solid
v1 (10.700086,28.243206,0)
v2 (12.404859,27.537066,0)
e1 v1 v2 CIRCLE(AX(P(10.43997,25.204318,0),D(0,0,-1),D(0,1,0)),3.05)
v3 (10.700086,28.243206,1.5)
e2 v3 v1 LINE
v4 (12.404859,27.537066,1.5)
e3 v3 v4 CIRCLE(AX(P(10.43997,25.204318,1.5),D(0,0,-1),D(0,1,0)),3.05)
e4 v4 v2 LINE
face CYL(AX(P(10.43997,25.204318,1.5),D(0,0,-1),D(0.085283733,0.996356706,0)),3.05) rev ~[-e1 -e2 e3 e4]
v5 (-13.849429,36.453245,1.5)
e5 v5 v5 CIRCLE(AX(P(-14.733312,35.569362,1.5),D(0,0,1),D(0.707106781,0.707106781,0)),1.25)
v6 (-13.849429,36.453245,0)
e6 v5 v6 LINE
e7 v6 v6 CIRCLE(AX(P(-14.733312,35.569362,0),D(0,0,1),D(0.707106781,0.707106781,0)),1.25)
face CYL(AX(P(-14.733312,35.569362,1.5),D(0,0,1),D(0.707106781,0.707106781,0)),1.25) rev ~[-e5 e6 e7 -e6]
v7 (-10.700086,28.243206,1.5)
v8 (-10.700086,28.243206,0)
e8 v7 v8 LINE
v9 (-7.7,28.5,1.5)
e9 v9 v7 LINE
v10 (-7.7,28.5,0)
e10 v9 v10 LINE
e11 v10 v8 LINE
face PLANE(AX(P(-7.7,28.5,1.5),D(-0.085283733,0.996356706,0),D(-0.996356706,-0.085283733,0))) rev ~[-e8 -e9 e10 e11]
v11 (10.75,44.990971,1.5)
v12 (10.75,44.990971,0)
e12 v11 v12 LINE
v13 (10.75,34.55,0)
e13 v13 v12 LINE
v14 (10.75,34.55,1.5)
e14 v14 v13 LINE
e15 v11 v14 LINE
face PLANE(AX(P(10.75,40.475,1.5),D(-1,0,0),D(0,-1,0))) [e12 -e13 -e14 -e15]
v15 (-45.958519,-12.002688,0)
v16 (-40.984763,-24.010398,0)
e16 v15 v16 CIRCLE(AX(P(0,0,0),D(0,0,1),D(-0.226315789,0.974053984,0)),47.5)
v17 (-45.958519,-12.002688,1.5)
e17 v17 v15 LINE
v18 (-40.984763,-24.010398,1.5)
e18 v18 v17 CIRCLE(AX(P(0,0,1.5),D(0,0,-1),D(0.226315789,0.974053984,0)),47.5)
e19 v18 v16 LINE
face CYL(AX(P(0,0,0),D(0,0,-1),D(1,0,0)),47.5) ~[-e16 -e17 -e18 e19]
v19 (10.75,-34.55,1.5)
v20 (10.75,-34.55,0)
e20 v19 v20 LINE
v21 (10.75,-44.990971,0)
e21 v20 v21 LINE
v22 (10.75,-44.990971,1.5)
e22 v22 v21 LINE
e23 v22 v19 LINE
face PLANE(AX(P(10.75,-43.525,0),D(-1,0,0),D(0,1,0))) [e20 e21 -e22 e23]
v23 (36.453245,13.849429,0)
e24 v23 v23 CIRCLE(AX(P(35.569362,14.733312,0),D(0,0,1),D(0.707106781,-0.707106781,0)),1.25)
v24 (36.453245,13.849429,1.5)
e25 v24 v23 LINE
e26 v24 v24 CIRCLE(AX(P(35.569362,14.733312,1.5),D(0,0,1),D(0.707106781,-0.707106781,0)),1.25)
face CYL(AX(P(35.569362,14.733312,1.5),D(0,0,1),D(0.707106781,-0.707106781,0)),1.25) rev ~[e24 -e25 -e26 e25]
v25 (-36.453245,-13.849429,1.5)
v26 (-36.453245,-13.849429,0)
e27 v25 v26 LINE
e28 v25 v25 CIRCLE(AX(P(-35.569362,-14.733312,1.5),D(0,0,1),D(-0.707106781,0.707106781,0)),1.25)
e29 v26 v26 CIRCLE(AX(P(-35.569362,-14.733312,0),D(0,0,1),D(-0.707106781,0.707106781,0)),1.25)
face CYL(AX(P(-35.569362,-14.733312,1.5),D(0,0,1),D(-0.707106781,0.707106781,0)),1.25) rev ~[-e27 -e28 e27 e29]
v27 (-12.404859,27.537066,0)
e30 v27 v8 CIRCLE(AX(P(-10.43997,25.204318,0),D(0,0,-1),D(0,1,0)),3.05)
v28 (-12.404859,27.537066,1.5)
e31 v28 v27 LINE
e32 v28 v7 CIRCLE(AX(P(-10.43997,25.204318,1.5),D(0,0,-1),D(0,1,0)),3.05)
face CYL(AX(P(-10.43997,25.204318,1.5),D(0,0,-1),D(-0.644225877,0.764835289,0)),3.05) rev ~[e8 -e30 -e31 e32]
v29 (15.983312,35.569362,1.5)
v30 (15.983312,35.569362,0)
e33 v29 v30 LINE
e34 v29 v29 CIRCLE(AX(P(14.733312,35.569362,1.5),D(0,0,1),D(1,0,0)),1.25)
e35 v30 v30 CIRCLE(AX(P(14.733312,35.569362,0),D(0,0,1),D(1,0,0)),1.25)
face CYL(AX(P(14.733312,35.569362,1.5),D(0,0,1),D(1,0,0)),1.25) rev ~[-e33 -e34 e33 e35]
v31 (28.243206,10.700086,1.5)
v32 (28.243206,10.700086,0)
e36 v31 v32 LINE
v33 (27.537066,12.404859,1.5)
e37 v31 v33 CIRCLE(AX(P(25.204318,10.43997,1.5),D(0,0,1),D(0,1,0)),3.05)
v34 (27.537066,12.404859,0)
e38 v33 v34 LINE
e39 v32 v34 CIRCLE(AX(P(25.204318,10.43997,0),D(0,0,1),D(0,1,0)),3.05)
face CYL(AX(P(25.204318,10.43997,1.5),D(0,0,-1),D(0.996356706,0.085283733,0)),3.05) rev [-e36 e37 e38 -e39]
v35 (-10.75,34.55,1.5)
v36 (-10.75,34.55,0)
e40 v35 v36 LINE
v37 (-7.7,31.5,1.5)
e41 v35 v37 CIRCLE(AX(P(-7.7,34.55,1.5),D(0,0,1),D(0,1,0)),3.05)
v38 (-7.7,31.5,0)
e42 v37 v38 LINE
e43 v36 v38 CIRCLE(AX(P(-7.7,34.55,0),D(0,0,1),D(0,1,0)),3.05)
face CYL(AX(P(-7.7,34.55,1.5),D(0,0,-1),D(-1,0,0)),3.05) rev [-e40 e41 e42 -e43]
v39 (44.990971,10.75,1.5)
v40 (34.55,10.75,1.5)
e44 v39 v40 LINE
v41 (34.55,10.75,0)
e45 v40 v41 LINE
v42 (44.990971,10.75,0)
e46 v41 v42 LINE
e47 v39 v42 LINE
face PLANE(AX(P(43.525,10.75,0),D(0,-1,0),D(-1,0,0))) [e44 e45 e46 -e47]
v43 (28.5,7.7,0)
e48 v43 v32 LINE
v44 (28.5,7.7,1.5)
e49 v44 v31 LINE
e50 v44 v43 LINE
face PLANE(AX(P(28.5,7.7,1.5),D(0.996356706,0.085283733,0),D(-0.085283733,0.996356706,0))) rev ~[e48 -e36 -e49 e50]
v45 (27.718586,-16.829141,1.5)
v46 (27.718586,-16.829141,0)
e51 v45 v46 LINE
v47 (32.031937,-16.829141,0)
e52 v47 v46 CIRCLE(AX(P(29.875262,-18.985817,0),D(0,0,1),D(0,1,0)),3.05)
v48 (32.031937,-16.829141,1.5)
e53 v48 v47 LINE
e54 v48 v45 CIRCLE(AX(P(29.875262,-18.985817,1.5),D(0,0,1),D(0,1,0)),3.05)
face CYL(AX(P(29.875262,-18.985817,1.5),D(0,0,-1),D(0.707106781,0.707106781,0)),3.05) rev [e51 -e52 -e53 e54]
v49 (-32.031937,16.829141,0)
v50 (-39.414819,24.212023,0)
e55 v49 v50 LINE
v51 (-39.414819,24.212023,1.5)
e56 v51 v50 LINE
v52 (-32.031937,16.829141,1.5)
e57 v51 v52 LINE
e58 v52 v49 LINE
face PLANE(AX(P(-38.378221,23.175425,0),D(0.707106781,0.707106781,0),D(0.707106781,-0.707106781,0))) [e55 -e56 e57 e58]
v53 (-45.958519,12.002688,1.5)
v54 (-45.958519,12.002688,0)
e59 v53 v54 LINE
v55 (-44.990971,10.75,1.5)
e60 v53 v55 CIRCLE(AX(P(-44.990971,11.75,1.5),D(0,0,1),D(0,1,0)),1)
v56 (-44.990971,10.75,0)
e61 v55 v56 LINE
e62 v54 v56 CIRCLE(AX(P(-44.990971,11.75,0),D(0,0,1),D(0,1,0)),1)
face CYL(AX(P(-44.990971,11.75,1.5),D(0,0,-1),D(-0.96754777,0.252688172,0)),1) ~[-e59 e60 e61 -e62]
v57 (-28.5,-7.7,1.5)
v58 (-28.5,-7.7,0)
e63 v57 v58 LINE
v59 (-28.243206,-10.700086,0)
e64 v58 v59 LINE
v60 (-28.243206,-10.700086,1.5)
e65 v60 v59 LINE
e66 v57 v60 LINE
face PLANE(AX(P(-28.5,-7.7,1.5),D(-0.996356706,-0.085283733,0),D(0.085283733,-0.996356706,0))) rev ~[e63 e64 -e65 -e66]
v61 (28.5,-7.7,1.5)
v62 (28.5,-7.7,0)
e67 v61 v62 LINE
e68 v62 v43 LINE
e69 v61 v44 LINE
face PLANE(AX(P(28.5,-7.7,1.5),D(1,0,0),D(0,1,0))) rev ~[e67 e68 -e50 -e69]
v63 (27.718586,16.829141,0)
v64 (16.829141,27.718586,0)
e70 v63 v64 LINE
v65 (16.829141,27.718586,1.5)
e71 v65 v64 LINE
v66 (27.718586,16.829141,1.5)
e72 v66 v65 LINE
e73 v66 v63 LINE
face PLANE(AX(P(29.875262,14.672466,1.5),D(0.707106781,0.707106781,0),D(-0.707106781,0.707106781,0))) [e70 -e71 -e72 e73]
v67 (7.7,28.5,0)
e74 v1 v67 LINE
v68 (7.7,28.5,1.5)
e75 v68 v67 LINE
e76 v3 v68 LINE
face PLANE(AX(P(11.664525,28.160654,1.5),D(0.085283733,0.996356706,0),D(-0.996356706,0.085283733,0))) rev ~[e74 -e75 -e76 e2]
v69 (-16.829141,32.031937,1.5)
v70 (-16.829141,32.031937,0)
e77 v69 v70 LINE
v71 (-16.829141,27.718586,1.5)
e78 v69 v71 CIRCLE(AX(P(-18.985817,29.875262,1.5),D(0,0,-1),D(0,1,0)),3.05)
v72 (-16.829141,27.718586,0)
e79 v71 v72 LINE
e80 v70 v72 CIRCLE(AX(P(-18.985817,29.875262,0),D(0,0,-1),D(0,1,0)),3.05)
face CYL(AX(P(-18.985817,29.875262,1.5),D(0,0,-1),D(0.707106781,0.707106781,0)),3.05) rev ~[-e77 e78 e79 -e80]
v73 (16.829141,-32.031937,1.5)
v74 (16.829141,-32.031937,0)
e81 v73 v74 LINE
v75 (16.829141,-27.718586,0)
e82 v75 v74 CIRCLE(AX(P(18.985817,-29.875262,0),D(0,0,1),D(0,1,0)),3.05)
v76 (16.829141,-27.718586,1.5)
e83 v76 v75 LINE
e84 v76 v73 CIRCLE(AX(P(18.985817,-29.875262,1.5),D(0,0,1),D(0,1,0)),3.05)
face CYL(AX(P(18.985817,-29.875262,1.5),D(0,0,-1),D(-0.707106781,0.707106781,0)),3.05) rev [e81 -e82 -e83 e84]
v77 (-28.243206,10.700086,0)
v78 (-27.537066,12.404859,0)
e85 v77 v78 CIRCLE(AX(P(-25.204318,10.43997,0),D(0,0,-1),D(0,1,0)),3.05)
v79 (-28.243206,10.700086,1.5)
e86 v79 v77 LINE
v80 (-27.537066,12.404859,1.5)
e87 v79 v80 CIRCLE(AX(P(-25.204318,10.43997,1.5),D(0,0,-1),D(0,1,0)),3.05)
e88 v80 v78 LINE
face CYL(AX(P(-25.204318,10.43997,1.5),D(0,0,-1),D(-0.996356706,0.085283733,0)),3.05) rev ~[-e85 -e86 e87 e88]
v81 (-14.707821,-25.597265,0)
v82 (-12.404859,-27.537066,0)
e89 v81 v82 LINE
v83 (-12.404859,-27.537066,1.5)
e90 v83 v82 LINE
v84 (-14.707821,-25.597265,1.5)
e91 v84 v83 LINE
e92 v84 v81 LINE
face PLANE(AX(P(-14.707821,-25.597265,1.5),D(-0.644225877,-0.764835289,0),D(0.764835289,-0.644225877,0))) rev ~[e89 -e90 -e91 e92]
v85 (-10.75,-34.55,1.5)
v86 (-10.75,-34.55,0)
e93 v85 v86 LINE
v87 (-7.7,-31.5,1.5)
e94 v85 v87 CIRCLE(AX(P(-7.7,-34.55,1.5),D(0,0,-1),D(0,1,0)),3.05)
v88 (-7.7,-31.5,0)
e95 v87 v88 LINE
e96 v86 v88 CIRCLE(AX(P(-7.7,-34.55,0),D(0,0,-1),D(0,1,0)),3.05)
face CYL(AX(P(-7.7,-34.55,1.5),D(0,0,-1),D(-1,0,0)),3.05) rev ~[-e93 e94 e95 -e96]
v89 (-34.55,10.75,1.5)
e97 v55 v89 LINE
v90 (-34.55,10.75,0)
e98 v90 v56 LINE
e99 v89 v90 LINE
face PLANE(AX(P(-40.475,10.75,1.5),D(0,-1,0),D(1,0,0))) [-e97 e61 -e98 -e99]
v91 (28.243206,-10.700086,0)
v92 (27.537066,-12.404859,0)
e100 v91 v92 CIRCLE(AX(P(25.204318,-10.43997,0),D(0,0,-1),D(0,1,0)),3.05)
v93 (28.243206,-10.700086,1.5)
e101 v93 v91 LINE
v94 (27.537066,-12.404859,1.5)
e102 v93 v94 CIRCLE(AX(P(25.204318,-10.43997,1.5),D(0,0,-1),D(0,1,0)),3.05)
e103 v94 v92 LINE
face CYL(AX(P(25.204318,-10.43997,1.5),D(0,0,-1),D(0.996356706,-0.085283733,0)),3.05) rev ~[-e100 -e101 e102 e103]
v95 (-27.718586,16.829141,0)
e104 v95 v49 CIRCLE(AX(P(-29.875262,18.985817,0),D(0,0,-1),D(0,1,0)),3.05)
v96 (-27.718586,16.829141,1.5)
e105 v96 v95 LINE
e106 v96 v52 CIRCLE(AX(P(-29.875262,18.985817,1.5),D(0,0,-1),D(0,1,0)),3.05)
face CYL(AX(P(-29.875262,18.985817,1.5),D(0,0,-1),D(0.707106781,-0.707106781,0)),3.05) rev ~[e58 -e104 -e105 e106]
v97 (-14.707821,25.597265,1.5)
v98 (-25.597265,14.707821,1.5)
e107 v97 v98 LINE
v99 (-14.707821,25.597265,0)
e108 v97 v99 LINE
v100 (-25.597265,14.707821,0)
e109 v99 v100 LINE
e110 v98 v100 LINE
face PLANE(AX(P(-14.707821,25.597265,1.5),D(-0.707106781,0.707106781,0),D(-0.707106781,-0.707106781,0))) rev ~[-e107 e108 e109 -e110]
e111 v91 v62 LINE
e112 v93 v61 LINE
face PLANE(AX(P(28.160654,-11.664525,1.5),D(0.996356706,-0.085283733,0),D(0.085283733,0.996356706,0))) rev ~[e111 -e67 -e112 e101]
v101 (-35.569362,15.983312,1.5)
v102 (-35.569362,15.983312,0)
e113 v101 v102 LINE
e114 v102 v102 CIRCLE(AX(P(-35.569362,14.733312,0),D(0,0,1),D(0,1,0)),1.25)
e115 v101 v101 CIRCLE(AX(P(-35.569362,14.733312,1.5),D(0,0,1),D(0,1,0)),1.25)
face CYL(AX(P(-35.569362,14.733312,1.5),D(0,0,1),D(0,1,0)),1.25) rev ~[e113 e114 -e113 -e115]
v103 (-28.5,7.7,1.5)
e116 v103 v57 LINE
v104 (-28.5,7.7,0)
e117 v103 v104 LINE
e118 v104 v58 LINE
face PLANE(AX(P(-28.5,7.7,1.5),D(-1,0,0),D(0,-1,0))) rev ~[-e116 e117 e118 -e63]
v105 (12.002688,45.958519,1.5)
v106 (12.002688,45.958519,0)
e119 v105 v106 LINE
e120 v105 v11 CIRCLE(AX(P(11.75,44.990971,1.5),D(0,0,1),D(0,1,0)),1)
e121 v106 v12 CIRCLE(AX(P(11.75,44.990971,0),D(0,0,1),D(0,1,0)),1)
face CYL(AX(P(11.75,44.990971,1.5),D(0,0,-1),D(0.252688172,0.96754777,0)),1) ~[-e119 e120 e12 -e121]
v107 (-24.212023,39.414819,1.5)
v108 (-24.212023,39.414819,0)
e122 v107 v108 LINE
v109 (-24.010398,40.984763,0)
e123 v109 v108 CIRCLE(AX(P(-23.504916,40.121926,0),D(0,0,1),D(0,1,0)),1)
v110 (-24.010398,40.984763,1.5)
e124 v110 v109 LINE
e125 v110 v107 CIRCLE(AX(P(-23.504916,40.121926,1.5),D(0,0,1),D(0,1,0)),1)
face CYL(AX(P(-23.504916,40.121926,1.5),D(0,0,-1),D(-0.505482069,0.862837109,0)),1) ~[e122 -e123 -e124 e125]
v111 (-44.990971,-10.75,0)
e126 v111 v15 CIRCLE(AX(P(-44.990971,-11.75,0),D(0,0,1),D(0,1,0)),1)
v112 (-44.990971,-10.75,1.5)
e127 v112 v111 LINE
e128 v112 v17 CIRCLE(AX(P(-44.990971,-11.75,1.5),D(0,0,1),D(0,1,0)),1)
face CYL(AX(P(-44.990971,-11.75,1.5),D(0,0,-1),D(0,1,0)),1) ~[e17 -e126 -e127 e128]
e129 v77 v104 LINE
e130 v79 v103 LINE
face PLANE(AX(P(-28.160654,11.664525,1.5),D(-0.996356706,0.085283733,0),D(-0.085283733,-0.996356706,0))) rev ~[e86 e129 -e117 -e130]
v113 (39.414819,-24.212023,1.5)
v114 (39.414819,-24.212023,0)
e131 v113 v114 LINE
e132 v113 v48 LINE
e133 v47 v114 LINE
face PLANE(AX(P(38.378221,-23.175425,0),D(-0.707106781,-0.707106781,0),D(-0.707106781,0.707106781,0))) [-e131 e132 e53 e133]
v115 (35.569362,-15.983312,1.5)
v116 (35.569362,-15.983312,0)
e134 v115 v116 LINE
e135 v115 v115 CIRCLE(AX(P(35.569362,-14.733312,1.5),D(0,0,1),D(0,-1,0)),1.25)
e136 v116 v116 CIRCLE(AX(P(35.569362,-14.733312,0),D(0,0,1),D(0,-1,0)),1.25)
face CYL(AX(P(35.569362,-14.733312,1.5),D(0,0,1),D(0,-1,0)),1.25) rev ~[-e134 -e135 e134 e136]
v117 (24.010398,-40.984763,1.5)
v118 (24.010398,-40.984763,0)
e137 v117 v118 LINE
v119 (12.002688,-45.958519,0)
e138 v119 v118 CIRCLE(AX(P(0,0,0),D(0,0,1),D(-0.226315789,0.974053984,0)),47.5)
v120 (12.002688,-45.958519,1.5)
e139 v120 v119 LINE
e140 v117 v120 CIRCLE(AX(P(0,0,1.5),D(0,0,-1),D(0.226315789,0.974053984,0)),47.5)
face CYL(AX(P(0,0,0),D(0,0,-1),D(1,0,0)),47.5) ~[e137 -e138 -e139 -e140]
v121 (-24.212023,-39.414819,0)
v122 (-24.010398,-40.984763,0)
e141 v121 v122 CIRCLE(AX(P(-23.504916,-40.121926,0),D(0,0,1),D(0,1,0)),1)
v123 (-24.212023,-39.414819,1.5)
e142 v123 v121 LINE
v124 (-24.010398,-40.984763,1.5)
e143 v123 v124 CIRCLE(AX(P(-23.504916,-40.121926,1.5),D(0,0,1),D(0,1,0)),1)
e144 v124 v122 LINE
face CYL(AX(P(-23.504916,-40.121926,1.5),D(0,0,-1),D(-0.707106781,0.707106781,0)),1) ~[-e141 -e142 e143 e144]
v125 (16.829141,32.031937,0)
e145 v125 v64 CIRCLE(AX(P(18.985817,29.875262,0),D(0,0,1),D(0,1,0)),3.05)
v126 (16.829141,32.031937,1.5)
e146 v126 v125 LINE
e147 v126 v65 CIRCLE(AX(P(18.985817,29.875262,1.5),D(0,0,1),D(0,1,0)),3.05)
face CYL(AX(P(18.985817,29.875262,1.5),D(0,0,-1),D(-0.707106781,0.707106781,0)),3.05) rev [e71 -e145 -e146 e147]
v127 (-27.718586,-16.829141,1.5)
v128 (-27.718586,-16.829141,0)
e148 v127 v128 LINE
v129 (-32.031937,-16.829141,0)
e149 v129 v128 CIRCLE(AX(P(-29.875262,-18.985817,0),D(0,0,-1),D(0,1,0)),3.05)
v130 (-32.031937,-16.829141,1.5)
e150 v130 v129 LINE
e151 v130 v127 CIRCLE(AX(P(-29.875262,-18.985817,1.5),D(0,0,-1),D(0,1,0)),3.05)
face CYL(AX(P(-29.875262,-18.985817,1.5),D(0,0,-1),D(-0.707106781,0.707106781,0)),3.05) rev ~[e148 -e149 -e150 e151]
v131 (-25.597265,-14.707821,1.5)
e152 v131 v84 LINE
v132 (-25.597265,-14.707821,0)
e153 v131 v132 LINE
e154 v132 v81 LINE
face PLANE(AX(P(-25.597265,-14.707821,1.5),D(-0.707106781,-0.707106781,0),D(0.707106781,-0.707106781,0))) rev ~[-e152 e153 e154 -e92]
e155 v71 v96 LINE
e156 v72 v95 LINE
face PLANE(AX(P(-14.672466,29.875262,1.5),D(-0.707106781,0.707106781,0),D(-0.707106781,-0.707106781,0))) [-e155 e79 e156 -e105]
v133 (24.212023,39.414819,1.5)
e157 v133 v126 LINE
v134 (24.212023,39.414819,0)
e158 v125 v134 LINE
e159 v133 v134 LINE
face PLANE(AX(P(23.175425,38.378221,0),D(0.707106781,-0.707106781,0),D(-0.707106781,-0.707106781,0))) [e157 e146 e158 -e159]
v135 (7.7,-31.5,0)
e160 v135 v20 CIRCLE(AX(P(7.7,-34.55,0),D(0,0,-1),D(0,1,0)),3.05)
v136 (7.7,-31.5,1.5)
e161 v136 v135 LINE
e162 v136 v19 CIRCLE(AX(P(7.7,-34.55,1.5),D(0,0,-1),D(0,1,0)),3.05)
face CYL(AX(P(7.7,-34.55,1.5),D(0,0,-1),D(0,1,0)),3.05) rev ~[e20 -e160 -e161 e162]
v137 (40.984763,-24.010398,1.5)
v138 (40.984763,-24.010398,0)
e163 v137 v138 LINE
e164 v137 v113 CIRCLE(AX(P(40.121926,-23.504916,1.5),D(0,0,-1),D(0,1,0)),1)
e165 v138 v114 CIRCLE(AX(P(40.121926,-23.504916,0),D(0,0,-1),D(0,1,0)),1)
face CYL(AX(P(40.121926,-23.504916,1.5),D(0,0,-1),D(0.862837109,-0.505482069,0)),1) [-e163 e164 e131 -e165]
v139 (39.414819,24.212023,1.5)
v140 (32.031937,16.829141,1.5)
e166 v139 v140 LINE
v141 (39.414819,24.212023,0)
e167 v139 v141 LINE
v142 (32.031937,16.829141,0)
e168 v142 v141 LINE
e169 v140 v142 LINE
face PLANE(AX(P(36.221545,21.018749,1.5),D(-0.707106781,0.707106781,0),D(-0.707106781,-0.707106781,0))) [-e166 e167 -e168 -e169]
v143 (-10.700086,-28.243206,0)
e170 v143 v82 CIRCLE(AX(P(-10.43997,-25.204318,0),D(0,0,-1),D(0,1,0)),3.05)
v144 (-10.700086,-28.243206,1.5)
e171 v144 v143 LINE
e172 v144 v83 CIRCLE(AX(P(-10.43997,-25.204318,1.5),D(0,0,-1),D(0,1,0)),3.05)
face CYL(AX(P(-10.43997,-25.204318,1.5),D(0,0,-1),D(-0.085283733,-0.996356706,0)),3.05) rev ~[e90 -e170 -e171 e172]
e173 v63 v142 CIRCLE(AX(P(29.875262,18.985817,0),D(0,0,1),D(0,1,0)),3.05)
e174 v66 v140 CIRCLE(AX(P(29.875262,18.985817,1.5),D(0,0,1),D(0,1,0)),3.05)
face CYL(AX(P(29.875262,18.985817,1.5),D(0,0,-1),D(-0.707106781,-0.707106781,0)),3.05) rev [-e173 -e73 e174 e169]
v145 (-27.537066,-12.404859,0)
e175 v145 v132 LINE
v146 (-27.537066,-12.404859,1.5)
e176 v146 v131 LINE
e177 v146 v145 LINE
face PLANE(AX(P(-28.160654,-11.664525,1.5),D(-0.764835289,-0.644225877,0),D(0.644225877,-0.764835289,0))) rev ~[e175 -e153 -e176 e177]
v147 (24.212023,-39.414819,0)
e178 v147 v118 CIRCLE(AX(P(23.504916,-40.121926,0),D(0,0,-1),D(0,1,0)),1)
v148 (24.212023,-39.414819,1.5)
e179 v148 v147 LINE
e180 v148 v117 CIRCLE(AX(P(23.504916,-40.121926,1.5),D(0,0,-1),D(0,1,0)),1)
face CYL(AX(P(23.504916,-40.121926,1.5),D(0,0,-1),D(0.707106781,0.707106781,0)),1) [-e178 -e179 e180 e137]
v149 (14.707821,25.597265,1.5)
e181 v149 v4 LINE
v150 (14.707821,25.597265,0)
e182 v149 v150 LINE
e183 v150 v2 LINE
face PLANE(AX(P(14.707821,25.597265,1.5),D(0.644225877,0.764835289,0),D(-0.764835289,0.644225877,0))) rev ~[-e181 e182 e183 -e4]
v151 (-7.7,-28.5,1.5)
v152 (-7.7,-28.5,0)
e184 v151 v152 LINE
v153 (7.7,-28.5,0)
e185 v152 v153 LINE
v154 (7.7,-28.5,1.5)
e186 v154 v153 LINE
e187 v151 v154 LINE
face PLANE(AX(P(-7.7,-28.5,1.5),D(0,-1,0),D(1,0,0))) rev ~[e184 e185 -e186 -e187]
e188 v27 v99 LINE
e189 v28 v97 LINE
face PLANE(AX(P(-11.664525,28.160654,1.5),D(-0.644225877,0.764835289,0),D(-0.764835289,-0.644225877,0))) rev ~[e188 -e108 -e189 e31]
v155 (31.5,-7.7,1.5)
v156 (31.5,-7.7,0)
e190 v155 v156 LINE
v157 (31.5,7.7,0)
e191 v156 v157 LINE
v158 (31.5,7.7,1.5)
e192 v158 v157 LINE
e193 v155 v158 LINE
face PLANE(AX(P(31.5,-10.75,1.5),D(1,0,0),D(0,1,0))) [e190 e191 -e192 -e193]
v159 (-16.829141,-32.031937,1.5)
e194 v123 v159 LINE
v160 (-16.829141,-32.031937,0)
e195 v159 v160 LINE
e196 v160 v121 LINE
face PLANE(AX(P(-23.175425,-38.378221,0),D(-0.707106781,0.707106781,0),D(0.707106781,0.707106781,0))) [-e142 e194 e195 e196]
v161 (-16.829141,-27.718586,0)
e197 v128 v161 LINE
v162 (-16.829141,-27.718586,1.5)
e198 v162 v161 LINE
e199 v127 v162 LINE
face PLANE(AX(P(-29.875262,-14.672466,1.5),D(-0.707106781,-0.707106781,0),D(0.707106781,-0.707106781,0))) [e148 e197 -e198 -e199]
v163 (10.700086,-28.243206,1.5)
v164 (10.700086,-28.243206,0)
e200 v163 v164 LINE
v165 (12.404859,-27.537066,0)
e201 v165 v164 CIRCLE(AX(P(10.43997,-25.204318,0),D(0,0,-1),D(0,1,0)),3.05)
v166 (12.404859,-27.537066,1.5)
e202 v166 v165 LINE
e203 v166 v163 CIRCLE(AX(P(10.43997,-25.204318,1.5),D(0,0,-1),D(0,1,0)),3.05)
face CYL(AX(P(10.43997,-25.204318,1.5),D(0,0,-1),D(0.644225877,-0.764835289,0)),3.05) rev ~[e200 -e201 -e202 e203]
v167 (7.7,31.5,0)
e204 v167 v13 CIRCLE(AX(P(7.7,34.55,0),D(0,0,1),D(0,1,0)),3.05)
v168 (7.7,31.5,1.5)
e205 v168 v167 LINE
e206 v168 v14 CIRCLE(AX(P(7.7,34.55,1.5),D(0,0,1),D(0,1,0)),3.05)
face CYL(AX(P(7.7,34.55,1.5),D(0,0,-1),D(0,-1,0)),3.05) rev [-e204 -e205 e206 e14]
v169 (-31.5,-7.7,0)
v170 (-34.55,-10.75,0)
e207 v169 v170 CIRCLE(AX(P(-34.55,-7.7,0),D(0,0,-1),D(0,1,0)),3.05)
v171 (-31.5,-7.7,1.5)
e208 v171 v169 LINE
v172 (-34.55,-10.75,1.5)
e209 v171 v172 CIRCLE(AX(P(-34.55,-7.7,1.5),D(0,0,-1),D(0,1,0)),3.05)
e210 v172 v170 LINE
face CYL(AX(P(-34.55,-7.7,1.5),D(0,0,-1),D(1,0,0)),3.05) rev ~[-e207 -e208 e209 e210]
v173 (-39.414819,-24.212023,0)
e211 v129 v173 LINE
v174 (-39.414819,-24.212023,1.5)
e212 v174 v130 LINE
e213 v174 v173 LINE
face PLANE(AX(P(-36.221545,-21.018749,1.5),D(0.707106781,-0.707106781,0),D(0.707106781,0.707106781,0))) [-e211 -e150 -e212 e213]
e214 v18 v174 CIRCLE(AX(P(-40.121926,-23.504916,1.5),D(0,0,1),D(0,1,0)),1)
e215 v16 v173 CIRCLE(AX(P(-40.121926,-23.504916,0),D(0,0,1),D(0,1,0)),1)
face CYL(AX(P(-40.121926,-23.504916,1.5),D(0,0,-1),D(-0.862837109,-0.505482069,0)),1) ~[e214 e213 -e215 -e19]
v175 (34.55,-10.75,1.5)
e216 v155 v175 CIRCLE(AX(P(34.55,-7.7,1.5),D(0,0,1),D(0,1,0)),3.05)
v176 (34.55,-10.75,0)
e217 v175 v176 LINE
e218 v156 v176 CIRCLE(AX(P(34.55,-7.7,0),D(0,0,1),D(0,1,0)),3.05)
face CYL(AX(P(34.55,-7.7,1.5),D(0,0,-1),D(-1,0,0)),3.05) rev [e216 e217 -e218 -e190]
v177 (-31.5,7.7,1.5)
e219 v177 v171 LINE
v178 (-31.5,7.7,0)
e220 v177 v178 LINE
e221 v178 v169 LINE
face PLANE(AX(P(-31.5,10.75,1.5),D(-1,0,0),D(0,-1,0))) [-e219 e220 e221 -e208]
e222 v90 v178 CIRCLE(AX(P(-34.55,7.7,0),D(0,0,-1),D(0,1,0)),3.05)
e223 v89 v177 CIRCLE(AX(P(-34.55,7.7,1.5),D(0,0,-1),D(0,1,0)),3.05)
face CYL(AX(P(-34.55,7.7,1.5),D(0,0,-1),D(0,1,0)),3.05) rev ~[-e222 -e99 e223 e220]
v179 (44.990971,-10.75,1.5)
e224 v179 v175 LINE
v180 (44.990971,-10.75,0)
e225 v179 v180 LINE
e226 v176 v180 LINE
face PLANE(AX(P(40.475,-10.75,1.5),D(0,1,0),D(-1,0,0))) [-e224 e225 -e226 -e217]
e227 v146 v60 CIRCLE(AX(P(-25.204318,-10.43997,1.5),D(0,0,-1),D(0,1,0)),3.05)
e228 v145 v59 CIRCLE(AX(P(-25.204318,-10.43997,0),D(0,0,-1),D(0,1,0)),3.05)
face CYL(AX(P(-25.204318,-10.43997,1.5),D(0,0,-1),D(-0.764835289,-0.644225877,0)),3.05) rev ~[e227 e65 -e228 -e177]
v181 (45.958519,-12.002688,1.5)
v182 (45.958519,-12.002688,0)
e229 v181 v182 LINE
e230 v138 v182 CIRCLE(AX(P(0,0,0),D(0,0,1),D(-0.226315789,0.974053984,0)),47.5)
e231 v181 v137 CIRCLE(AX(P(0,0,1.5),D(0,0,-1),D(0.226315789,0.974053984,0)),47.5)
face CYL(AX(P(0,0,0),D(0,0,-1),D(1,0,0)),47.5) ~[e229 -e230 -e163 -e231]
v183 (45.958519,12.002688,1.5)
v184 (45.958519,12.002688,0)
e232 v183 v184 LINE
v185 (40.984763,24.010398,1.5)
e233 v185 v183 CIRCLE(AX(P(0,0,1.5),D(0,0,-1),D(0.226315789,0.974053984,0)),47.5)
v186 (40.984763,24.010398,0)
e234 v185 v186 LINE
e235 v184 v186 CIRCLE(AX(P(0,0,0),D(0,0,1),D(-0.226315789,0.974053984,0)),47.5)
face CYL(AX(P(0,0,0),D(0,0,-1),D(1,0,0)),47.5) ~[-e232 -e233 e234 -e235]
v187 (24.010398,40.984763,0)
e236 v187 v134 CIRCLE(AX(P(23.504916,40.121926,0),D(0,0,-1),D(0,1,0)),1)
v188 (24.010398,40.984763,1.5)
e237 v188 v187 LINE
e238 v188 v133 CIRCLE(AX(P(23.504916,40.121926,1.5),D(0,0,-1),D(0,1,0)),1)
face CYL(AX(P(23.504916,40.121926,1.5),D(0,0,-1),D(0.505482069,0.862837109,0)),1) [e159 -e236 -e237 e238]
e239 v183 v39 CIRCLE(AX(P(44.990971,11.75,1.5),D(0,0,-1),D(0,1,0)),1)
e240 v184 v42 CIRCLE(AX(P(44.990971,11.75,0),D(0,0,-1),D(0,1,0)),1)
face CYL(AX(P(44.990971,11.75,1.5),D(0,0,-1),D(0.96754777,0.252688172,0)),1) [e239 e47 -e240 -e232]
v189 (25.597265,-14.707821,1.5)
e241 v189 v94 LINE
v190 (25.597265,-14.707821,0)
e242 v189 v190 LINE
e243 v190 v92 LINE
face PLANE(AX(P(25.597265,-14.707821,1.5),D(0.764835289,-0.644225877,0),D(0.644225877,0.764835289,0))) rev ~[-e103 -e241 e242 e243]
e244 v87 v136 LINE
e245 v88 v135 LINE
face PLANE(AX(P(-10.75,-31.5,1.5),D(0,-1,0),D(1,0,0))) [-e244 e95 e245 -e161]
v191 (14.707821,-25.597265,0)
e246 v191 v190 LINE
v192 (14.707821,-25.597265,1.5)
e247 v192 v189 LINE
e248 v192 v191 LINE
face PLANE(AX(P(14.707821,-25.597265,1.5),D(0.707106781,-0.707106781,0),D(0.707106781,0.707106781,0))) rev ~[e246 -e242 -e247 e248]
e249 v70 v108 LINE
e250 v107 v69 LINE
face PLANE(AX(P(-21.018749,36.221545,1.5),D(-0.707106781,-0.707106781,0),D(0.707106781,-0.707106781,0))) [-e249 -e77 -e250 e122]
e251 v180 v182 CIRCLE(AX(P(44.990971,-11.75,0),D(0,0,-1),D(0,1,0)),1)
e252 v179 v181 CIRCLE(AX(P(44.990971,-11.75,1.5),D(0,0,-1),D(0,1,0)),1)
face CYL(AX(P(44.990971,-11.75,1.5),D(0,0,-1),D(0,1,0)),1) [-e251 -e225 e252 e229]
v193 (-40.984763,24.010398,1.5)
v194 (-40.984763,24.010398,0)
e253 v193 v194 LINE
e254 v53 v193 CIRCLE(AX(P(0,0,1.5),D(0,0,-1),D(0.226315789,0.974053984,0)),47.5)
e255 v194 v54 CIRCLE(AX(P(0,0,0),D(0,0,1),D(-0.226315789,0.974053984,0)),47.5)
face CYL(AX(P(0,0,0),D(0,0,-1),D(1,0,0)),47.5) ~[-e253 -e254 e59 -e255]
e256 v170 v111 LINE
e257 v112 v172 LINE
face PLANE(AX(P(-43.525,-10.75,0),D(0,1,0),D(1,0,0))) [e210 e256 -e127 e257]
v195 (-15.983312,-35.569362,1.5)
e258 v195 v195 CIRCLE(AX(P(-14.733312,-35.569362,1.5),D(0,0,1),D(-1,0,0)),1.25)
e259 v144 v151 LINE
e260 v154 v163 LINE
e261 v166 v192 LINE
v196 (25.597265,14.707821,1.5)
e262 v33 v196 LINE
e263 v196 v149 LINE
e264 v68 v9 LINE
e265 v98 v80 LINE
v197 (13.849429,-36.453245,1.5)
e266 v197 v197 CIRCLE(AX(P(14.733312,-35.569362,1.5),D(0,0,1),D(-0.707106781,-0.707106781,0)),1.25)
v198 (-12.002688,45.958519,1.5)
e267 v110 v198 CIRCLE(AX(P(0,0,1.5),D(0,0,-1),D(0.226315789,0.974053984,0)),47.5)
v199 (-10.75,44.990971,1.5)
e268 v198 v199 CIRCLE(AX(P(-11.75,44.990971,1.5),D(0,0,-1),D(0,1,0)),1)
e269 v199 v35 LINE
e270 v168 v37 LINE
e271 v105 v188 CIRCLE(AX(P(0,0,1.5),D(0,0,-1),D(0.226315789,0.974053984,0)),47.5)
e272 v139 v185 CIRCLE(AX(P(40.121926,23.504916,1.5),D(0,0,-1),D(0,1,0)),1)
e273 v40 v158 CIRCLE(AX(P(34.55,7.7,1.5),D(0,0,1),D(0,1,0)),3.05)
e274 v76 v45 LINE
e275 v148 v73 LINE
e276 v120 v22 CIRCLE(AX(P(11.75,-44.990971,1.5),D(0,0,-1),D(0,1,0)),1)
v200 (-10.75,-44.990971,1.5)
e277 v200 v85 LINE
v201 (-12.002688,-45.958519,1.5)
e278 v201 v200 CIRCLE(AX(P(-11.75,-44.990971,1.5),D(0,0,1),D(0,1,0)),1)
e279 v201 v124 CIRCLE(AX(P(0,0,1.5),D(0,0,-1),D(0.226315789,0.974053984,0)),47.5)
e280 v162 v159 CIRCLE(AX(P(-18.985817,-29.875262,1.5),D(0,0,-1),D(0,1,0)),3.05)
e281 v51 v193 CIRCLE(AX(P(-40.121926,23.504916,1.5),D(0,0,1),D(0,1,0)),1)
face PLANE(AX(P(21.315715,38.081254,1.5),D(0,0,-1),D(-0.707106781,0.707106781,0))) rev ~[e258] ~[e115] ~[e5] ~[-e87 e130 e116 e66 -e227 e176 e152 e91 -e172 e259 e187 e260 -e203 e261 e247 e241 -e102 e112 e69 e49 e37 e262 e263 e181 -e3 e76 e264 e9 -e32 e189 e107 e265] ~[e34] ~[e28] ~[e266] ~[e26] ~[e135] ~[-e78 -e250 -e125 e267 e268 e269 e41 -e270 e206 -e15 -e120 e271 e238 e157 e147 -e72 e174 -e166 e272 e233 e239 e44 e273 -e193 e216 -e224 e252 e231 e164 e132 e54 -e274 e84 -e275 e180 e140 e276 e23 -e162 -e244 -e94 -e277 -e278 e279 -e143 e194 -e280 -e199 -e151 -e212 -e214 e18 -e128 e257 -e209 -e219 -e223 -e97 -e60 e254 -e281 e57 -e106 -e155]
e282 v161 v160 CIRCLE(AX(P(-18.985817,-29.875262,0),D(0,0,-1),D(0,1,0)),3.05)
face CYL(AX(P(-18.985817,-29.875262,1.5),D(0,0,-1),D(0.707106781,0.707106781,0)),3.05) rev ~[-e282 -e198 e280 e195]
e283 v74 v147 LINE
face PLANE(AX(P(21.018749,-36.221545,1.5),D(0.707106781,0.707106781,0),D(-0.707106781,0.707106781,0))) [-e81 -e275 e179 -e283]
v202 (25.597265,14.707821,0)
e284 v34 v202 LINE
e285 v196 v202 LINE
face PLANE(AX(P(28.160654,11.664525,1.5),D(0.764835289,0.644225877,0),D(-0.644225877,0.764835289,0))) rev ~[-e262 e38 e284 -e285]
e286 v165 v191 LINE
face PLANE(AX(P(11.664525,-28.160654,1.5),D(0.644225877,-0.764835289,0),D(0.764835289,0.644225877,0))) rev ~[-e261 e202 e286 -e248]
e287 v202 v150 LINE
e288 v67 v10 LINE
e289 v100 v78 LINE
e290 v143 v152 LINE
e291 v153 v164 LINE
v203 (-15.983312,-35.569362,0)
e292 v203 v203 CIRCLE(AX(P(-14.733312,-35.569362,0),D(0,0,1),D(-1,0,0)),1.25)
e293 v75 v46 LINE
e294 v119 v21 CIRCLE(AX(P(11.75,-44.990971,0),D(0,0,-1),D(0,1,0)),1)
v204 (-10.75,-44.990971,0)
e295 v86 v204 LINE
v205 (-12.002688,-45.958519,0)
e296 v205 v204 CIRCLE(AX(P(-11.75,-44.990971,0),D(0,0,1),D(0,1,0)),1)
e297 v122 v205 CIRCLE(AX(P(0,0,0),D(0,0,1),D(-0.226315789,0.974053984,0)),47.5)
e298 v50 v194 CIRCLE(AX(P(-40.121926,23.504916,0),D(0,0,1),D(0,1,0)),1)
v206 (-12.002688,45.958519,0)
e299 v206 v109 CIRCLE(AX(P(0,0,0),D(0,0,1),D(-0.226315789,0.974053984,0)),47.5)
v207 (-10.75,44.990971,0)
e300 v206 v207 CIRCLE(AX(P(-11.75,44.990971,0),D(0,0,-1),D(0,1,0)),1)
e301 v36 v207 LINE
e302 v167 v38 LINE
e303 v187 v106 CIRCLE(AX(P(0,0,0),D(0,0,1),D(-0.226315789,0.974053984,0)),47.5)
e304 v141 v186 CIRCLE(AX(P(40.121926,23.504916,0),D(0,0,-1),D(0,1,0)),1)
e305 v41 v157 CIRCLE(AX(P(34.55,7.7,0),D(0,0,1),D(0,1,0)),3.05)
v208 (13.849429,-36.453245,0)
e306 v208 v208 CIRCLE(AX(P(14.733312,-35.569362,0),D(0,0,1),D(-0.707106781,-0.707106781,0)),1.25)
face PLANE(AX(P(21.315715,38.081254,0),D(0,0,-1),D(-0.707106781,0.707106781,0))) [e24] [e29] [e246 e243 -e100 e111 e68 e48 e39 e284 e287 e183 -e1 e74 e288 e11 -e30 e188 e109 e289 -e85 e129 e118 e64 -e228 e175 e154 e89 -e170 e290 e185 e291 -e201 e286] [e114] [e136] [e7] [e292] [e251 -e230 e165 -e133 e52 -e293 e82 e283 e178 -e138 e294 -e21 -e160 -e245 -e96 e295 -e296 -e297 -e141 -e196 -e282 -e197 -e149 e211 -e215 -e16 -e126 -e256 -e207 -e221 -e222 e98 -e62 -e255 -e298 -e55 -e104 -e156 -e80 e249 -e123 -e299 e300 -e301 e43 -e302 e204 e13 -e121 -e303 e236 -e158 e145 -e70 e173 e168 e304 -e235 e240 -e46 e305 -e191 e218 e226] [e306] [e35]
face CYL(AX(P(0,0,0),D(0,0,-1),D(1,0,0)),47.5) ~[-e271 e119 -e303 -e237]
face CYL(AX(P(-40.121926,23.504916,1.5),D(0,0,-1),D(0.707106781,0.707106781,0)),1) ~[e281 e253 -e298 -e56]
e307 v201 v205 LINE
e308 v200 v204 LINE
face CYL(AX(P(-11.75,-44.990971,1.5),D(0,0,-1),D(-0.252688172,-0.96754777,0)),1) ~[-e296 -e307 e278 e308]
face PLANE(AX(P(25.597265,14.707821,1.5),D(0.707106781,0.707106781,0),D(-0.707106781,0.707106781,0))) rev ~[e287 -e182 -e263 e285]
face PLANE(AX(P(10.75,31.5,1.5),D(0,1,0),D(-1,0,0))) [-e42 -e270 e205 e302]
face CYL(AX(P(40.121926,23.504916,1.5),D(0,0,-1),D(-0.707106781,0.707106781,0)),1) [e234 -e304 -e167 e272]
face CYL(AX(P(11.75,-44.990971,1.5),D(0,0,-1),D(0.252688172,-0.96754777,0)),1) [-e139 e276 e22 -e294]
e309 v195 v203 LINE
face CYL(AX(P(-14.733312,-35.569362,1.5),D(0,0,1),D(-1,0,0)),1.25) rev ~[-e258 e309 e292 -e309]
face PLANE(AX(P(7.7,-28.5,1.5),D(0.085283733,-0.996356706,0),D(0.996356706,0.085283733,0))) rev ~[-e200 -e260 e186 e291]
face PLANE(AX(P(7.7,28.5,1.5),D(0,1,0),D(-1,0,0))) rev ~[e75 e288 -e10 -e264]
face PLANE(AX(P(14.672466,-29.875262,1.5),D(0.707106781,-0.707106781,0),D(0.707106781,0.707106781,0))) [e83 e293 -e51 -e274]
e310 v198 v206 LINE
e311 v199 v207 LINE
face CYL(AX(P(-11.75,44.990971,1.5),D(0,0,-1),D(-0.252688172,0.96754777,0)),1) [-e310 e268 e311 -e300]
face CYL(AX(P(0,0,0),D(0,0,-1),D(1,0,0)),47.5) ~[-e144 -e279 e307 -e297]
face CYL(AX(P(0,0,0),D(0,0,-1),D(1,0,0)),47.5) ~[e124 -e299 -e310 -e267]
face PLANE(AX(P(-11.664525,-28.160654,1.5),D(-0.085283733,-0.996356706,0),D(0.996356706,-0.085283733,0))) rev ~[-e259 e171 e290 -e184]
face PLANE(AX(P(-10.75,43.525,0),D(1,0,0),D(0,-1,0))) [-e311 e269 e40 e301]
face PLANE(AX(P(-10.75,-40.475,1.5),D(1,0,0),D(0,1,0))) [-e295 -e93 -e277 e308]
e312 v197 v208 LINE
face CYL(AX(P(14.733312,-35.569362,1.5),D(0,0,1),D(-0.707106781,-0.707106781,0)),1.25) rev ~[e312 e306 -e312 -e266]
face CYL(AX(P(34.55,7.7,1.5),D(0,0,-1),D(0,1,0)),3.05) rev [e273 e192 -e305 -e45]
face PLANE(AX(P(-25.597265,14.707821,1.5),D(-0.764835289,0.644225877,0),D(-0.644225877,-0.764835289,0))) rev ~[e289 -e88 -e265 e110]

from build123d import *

# Parameters (mm, degrees)
SKETCH_1_R                       = 47.5
EXTRUDE_1_DEPTH                  = 1.5
CUT_EXTRUDE_1_DEPTH              = 68.191889392
CUT_EXTRUDE_2_DEPTH              = 68.191889392
CUT_EXTRUDE_2_DEPTH_BACK         = 68.191889392
SKETCH_3_R                       = 3.1
SKETCH_3_R_2                     = 1.6
SKETCH_4_R                       = 1.25
CUT_EXTRUDE_3_DEPTH              = 68.191889392
CUT_EXTRUDE_4_DEPTH              = 68.191889392
FILLET_1_R                       = 1
FILLET_2_R                       = 0.2
FILLET_3_R                       = 3.05
PATTERN_CIRCULAR_1_COUNT         = 8
FILLET_1_OF_PATTERN_CIRCULAR_1_R = 1
FILLET_2_OF_PATTERN_CIRCULAR_1_R = 0.2
FILLET_3_OF_PATTERN_CIRCULAR_1_R = 3.05
CUT_EXTRUDE_5_DEPTH              = 66.05834985
EXTRUDE_START                    = -1.5
EXTRUDE_2_DEPTH                  = 1.5
FILLET_4_R                       = 3.05
PATTERN_CIRCULAR_2_COUNT         = 8


with BuildPart() as part:
    # ｽｹｯﾁ1 → ﾎﾞｽ - 押し出し1 (new body)
    with BuildSketch(Plane.XY):
        Circle(SKETCH_1_R)
    extrude(amount=EXTRUDE_1_DEPTH)

    # ｽｹｯﾁ2 → ｶｯﾄ - 押し出し1 (cut, through all)
    with BuildSketch(Plane.XY.offset(1.5)):
        Polygon((-10.75, 43.525), (-10.75, 52.5), (10.75, 52.5), (10.75, 43.525), (13, 43.525), (13, 40.475), (10.75, 40.475), (10.75, 31.5), (-10.75, 31.5), (-10.75, 40.475), (-13, 40.475), (-13, 43.525), align=None)
    cut_extrude_1 = extrude(amount=-CUT_EXTRUDE_1_DEPTH, mode=Mode.SUBTRACT)

    # ｽｹｯﾁ3 → ｶｯﾄ - 押し出し2 (cut, two sides: drawn at the far end of the back side and taken through both)
    with BuildSketch(Plane.XY.offset(1.5).offset(-CUT_EXTRUDE_2_DEPTH_BACK)):
        Circle(SKETCH_3_R)
        with Locations((0, 6.5)):
            Circle(SKETCH_3_R_2)
        with Locations((6.5, 0)):
            Circle(SKETCH_3_R_2)
        with Locations((0, -6.5)):
            Circle(SKETCH_3_R_2)
        with Locations((-6.5, 0)):
            Circle(SKETCH_3_R_2)
        with Locations((8.838834765, 8.838834765)):
            Circle(SKETCH_3_R_2)
        with Locations((8.838834765, -8.838834765)):
            Circle(SKETCH_3_R_2)
        with Locations((-8.838834765, -8.838834765)):
            Circle(SKETCH_3_R_2)
        with Locations((-8.838834765, 8.838834765)):
            Circle(SKETCH_3_R_2)
    extrude(amount=CUT_EXTRUDE_2_DEPTH + CUT_EXTRUDE_2_DEPTH_BACK, mode=Mode.SUBTRACT)

    # ｽｹｯﾁ4 → ｶｯﾄ - 押し出し3 (cut, through all)
    with BuildSketch(Plane.XY.offset(1.5)):
        with Locations((14.733312146, 35.569362002)):
            Circle(SKETCH_4_R)
        with Locations((8.610377228, 20.787289482)):
            Circle(SKETCH_4_R)
    cut_extrude_3 = extrude(amount=-CUT_EXTRUDE_3_DEPTH, mode=Mode.SUBTRACT)

    # ｽｹｯﾁ5 → ｶｯﾄ - 押し出し4 (cut, symmetric)
    with BuildSketch(Plane.XY.offset(1.5)):
        Polygon((-7.188286702, 26.5), (7.188286702, 26.5), (3.328075632, 17.180626082), (-3.328075632, 17.180626082), align=None)
    cut_extrude_4 = extrude(amount=CUT_EXTRUDE_4_DEPTH, both=True, mode=Mode.SUBTRACT)

    # ﾌｨﾚｯﾄ1
    fillet_1_edges = [part.edges().sort_by_distance(p)[0] for p in [
        (7.188286702, 26.5, 0.75),
        (3.328075632, 17.180626082, 0.75),
        (-3.328075632, 17.180626082, 0.75),
        (-7.188286702, 26.5, 0.75),
        (10.75, 46.267564232, 0.75),
        (-10.75, 46.267564232, 0.75),
    ]]
    fillet(fillet_1_edges, radius=FILLET_1_R)

    # ﾌｨﾚｯﾄ2
    fillet_2_edges = [part.edges().sort_by_distance(p)[0] for p in [
        (13, 43.525, 0.75),
        (13, 40.475, 0.75),
        (-13, 40.475, 0.75),
        (-13, 43.525, 0.75),
    ]]
    fillet(fillet_2_edges, radius=FILLET_2_R)

    # ﾌｨﾚｯﾄ3
    fillet_3_edges = [part.edges().sort_by_distance(p)[0] for p in [
        (10.75, 31.5, 0.75),
        (-10.75, 31.5, 0.75),
    ]]
    fillet(fillet_3_edges, radius=FILLET_3_R)

    # 円形ﾊﾟﾀｰﾝ1: ｶｯﾄ - 押し出し1, ｶｯﾄ - 押し出し3, ｶｯﾄ - 押し出し4 ×8 about axis
    pattern_circular_1_axis = Axis((0, 0, 0), (0, 0, 1))
    add([cut_extrude_1.rotate(pattern_circular_1_axis, i * 360 / PATTERN_CIRCULAR_1_COUNT) for i in range(1, PATTERN_CIRCULAR_1_COUNT)], mode=Mode.SUBTRACT)
    add([cut_extrude_3.rotate(pattern_circular_1_axis, i * 360 / PATTERN_CIRCULAR_1_COUNT) for i in range(1, PATTERN_CIRCULAR_1_COUNT)], mode=Mode.SUBTRACT)
    add([cut_extrude_4.rotate(pattern_circular_1_axis, i * 360 / PATTERN_CIRCULAR_1_COUNT) for i in range(1, PATTERN_CIRCULAR_1_COUNT)], mode=Mode.SUBTRACT)

    # ﾌｨﾚｯﾄ1 of 円形ﾊﾟﾀｰﾝ1
    fillet_1_of_pattern_circular_1_edges = [part.edges().sort_by_distance(p)[0] for p in [
        (-13.655443429, 23.821215973, 0.75),
        (-9.79523236, 14.501842056, 0.75),
        (-14.501842056, 9.79523236, 0.75),
        (-23.821215973, 13.655443429, 0.75),
        (-25.11471052, 40.317506315, 0.75),
        (-40.317506315, 25.11471052, 0.75),
        (-26.5, 7.188286702, 0.75),
        (-17.180626082, 3.328075632, 0.75),
        (-17.180626082, -3.328075632, 0.75),
        (-26.5, -7.188286702, 0.75),
        (-46.267564232, 10.75, 0.75),
        (-46.267564232, -10.75, 0.75),
        (-23.821215973, -13.655443429, 0.75),
        (-14.501842056, -9.79523236, 0.75),
        (-9.79523236, -14.501842056, 0.75),
        (-13.655443429, -23.821215973, 0.75),
        (-40.317506315, -25.11471052, 0.75),
        (-25.11471052, -40.317506315, 0.75),
        (-7.188286702, -26.5, 0.75),
        (-3.328075632, -17.180626082, 0.75),
        (3.328075632, -17.180626082, 0.75),
        (7.188286702, -26.5, 0.75),
        (-10.75, -46.267564232, 0.75),
        (10.75, -46.267564232, 0.75),
        (13.655443429, -23.821215973, 0.75),
        (9.79523236, -14.501842056, 0.75),
        (14.501842056, -9.79523236, 0.75),
        (23.821215973, -13.655443429, 0.75),
        (25.11471052, -40.317506315, 0.75),
        (40.317506315, -25.11471052, 0.75),
        (26.5, -7.188286702, 0.75),
        (17.180626082, -3.328075632, 0.75),
        (17.180626082, 3.328075632, 0.75),
        (26.5, 7.188286702, 0.75),
        (46.267564232, -10.75, 0.75),
        (46.267564232, 10.75, 0.75),
        (23.821215973, 13.655443429, 0.75),
        (14.501842056, 9.79523236, 0.75),
        (9.79523236, 14.501842056, 0.75),
        (13.655443429, 23.821215973, 0.75),
        (40.317506315, 25.11471052, 0.75),
        (25.11471052, 40.317506315, 0.75),
    ]]
    fillet(fillet_1_of_pattern_circular_1_edges, radius=FILLET_1_OF_PATTERN_CIRCULAR_1_R)

    # ﾌｨﾚｯﾄ2 of 円形ﾊﾟﾀｰﾝ1
    fillet_2_of_pattern_circular_1_edges = [part.edges().sort_by_distance(p)[0] for p in [
        (-21.584434496, 39.969210807, 0.75),
        (-19.427758813, 37.812535124, 0.75),
        (-37.812535124, 19.427758813, 0.75),
        (-39.969210807, 21.584434496, 0.75),
        (-43.525, 13, 0.75),
        (-40.475, 13, 0.75),
        (-40.475, -13, 0.75),
        (-43.525, -13, 0.75),
        (-39.969210807, -21.584434496, 0.75),
        (-37.812535124, -19.427758813, 0.75),
        (-19.427758813, -37.812535124, 0.75),
        (-21.584434496, -39.969210807, 0.75),
        (-13, -43.525, 0.75),
        (-13, -40.475, 0.75),
        (13, -40.475, 0.75),
        (13, -43.525, 0.75),
        (21.584434496, -39.969210807, 0.75),
        (19.427758813, -37.812535124, 0.75),
        (37.812535124, -19.427758813, 0.75),
        (39.969210807, -21.584434496, 0.75),
        (43.525, -13, 0.75),
        (40.475, -13, 0.75),
        (40.475, 13, 0.75),
        (43.525, 13, 0.75),
        (39.969210807, 21.584434496, 0.75),
        (37.812535124, 19.427758813, 0.75),
        (19.427758813, 37.812535124, 0.75),
        (21.584434496, 39.969210807, 0.75),
    ]]
    fillet(fillet_2_of_pattern_circular_1_edges, radius=FILLET_2_OF_PATTERN_CIRCULAR_1_R)

    # ﾌｨﾚｯﾄ3 of 円形ﾊﾟﾀｰﾝ1
    fillet_3_of_pattern_circular_1_edges = [part.edges().sort_by_distance(p)[0] for p in [
        (-14.67246571, 29.875261505, 0.75),
        (-29.875261505, 14.67246571, 0.75),
        (-31.5, 10.75, 0.75),
        (-31.5, -10.75, 0.75),
        (-29.875261505, -14.67246571, 0.75),
        (-14.67246571, -29.875261505, 0.75),
        (-10.75, -31.5, 0.75),
        (10.75, -31.5, 0.75),
        (14.67246571, -29.875261505, 0.75),
        (29.875261505, -14.67246571, 0.75),
        (31.5, -10.75, 0.75),
        (31.5, 10.75, 0.75),
        (29.875261505, 14.67246571, 0.75),
        (14.67246571, 29.875261505, 0.75),
    ]]
    fillet(fillet_3_of_pattern_circular_1_edges, radius=FILLET_3_OF_PATTERN_CIRCULAR_1_R)

    # ｽｹｯﾁ6 → ｶｯﾄ - 押し出し5 (cut, through all)
    with BuildSketch(Plane.XY.offset(1.5)):
        Polygon((11.664524887, 28.160654182), (7.7, 28.5), (-7.7, 28.5), (-11.664524887, 28.160654182), (-14.707821049, 25.597265479), (-25.597265479, 14.707821049), (-28.160654182, 11.664524887), (-28.5, 7.7), (-28.5, -7.7), (-28.160654182, -11.664524887), (-25.597265479, -14.707821049), (-14.707821049, -25.597265479), (-11.664524887, -28.160654182), (-7.7, -28.5), (7.7, -28.5), (11.664524887, -28.160654182), (14.707821049, -25.597265479), (25.597265479, -14.707821049), (28.160654182, -11.664524887), (28.5, -7.7), (28.5, 7.7), (28.160654182, 11.664524887), (25.597265479, 14.707821049), (14.707821049, 25.597265479), align=None)
    extrude(amount=-CUT_EXTRUDE_5_DEPTH, mode=Mode.SUBTRACT)

    # ｽｹｯﾁ7 → ﾎﾞｽ - 押し出し2 (add)
    with BuildSketch(Plane.XY.offset(1.5).offset(EXTRUDE_START)):
        with BuildLine():
            Line((-12.8, 43.525), (-10.75, 43.525))
            Line((-10.75, 43.525), (-10.75, 40.475))
            Line((-10.75, 40.475), (-12.8, 40.475))
            ThreePointArc((-12.8, 40.475), (-12.941421356, 40.533578644), (-13, 40.675))
            Line((-13, 40.675), (-13, 43.325))
            ThreePointArc((-13, 43.325), (-12.941421356, 43.466421356), (-12.8, 43.525))
        make_face()
        with BuildLine():
            Line((12.8, 40.475), (10.75, 40.475))
            Line((10.75, 40.475), (10.75, 43.525))
            Line((10.75, 43.525), (12.8, 43.525))
            ThreePointArc((12.8, 43.525), (12.941421356, 43.466421356), (13, 43.325))
            Line((13, 43.325), (13, 40.675))
            ThreePointArc((13, 40.675), (12.941421356, 40.533578644), (12.8, 40.475))
        make_face()
    extrude_2 = extrude(amount=EXTRUDE_2_DEPTH)

    # ﾌｨﾚｯﾄ4
    fillet_4_edges = [part.edges().sort_by_distance(p)[0] for p in [
        (-11.664524887, 28.160654182, 0.75),
        (11.664524887, 28.160654182, 0.75),
        (28.160654182, 11.664524887, 0.75),
        (28.160654182, -11.664524887, 0.75),
        (11.664524887, -28.160654182, 0.75),
        (-11.664524887, -28.160654182, 0.75),
        (-28.160654182, -11.664524887, 0.75),
        (-28.160654182, 11.664524887, 0.75),
    ]]
    fillet(fillet_4_edges, radius=FILLET_4_R)

    # 円形ﾊﾟﾀｰﾝ2: ﾎﾞｽ - 押し出し2 ×8 about axis
    pattern_circular_2_axis = Axis((0, 0, 0), (0, 0, 1))
    for i in range(1, PATTERN_CIRCULAR_2_COUNT):
        add(extrude_2.rotate(pattern_circular_2_axis, i * 360 / PATTERN_CIRCULAR_2_COUNT))


solid = part.part
